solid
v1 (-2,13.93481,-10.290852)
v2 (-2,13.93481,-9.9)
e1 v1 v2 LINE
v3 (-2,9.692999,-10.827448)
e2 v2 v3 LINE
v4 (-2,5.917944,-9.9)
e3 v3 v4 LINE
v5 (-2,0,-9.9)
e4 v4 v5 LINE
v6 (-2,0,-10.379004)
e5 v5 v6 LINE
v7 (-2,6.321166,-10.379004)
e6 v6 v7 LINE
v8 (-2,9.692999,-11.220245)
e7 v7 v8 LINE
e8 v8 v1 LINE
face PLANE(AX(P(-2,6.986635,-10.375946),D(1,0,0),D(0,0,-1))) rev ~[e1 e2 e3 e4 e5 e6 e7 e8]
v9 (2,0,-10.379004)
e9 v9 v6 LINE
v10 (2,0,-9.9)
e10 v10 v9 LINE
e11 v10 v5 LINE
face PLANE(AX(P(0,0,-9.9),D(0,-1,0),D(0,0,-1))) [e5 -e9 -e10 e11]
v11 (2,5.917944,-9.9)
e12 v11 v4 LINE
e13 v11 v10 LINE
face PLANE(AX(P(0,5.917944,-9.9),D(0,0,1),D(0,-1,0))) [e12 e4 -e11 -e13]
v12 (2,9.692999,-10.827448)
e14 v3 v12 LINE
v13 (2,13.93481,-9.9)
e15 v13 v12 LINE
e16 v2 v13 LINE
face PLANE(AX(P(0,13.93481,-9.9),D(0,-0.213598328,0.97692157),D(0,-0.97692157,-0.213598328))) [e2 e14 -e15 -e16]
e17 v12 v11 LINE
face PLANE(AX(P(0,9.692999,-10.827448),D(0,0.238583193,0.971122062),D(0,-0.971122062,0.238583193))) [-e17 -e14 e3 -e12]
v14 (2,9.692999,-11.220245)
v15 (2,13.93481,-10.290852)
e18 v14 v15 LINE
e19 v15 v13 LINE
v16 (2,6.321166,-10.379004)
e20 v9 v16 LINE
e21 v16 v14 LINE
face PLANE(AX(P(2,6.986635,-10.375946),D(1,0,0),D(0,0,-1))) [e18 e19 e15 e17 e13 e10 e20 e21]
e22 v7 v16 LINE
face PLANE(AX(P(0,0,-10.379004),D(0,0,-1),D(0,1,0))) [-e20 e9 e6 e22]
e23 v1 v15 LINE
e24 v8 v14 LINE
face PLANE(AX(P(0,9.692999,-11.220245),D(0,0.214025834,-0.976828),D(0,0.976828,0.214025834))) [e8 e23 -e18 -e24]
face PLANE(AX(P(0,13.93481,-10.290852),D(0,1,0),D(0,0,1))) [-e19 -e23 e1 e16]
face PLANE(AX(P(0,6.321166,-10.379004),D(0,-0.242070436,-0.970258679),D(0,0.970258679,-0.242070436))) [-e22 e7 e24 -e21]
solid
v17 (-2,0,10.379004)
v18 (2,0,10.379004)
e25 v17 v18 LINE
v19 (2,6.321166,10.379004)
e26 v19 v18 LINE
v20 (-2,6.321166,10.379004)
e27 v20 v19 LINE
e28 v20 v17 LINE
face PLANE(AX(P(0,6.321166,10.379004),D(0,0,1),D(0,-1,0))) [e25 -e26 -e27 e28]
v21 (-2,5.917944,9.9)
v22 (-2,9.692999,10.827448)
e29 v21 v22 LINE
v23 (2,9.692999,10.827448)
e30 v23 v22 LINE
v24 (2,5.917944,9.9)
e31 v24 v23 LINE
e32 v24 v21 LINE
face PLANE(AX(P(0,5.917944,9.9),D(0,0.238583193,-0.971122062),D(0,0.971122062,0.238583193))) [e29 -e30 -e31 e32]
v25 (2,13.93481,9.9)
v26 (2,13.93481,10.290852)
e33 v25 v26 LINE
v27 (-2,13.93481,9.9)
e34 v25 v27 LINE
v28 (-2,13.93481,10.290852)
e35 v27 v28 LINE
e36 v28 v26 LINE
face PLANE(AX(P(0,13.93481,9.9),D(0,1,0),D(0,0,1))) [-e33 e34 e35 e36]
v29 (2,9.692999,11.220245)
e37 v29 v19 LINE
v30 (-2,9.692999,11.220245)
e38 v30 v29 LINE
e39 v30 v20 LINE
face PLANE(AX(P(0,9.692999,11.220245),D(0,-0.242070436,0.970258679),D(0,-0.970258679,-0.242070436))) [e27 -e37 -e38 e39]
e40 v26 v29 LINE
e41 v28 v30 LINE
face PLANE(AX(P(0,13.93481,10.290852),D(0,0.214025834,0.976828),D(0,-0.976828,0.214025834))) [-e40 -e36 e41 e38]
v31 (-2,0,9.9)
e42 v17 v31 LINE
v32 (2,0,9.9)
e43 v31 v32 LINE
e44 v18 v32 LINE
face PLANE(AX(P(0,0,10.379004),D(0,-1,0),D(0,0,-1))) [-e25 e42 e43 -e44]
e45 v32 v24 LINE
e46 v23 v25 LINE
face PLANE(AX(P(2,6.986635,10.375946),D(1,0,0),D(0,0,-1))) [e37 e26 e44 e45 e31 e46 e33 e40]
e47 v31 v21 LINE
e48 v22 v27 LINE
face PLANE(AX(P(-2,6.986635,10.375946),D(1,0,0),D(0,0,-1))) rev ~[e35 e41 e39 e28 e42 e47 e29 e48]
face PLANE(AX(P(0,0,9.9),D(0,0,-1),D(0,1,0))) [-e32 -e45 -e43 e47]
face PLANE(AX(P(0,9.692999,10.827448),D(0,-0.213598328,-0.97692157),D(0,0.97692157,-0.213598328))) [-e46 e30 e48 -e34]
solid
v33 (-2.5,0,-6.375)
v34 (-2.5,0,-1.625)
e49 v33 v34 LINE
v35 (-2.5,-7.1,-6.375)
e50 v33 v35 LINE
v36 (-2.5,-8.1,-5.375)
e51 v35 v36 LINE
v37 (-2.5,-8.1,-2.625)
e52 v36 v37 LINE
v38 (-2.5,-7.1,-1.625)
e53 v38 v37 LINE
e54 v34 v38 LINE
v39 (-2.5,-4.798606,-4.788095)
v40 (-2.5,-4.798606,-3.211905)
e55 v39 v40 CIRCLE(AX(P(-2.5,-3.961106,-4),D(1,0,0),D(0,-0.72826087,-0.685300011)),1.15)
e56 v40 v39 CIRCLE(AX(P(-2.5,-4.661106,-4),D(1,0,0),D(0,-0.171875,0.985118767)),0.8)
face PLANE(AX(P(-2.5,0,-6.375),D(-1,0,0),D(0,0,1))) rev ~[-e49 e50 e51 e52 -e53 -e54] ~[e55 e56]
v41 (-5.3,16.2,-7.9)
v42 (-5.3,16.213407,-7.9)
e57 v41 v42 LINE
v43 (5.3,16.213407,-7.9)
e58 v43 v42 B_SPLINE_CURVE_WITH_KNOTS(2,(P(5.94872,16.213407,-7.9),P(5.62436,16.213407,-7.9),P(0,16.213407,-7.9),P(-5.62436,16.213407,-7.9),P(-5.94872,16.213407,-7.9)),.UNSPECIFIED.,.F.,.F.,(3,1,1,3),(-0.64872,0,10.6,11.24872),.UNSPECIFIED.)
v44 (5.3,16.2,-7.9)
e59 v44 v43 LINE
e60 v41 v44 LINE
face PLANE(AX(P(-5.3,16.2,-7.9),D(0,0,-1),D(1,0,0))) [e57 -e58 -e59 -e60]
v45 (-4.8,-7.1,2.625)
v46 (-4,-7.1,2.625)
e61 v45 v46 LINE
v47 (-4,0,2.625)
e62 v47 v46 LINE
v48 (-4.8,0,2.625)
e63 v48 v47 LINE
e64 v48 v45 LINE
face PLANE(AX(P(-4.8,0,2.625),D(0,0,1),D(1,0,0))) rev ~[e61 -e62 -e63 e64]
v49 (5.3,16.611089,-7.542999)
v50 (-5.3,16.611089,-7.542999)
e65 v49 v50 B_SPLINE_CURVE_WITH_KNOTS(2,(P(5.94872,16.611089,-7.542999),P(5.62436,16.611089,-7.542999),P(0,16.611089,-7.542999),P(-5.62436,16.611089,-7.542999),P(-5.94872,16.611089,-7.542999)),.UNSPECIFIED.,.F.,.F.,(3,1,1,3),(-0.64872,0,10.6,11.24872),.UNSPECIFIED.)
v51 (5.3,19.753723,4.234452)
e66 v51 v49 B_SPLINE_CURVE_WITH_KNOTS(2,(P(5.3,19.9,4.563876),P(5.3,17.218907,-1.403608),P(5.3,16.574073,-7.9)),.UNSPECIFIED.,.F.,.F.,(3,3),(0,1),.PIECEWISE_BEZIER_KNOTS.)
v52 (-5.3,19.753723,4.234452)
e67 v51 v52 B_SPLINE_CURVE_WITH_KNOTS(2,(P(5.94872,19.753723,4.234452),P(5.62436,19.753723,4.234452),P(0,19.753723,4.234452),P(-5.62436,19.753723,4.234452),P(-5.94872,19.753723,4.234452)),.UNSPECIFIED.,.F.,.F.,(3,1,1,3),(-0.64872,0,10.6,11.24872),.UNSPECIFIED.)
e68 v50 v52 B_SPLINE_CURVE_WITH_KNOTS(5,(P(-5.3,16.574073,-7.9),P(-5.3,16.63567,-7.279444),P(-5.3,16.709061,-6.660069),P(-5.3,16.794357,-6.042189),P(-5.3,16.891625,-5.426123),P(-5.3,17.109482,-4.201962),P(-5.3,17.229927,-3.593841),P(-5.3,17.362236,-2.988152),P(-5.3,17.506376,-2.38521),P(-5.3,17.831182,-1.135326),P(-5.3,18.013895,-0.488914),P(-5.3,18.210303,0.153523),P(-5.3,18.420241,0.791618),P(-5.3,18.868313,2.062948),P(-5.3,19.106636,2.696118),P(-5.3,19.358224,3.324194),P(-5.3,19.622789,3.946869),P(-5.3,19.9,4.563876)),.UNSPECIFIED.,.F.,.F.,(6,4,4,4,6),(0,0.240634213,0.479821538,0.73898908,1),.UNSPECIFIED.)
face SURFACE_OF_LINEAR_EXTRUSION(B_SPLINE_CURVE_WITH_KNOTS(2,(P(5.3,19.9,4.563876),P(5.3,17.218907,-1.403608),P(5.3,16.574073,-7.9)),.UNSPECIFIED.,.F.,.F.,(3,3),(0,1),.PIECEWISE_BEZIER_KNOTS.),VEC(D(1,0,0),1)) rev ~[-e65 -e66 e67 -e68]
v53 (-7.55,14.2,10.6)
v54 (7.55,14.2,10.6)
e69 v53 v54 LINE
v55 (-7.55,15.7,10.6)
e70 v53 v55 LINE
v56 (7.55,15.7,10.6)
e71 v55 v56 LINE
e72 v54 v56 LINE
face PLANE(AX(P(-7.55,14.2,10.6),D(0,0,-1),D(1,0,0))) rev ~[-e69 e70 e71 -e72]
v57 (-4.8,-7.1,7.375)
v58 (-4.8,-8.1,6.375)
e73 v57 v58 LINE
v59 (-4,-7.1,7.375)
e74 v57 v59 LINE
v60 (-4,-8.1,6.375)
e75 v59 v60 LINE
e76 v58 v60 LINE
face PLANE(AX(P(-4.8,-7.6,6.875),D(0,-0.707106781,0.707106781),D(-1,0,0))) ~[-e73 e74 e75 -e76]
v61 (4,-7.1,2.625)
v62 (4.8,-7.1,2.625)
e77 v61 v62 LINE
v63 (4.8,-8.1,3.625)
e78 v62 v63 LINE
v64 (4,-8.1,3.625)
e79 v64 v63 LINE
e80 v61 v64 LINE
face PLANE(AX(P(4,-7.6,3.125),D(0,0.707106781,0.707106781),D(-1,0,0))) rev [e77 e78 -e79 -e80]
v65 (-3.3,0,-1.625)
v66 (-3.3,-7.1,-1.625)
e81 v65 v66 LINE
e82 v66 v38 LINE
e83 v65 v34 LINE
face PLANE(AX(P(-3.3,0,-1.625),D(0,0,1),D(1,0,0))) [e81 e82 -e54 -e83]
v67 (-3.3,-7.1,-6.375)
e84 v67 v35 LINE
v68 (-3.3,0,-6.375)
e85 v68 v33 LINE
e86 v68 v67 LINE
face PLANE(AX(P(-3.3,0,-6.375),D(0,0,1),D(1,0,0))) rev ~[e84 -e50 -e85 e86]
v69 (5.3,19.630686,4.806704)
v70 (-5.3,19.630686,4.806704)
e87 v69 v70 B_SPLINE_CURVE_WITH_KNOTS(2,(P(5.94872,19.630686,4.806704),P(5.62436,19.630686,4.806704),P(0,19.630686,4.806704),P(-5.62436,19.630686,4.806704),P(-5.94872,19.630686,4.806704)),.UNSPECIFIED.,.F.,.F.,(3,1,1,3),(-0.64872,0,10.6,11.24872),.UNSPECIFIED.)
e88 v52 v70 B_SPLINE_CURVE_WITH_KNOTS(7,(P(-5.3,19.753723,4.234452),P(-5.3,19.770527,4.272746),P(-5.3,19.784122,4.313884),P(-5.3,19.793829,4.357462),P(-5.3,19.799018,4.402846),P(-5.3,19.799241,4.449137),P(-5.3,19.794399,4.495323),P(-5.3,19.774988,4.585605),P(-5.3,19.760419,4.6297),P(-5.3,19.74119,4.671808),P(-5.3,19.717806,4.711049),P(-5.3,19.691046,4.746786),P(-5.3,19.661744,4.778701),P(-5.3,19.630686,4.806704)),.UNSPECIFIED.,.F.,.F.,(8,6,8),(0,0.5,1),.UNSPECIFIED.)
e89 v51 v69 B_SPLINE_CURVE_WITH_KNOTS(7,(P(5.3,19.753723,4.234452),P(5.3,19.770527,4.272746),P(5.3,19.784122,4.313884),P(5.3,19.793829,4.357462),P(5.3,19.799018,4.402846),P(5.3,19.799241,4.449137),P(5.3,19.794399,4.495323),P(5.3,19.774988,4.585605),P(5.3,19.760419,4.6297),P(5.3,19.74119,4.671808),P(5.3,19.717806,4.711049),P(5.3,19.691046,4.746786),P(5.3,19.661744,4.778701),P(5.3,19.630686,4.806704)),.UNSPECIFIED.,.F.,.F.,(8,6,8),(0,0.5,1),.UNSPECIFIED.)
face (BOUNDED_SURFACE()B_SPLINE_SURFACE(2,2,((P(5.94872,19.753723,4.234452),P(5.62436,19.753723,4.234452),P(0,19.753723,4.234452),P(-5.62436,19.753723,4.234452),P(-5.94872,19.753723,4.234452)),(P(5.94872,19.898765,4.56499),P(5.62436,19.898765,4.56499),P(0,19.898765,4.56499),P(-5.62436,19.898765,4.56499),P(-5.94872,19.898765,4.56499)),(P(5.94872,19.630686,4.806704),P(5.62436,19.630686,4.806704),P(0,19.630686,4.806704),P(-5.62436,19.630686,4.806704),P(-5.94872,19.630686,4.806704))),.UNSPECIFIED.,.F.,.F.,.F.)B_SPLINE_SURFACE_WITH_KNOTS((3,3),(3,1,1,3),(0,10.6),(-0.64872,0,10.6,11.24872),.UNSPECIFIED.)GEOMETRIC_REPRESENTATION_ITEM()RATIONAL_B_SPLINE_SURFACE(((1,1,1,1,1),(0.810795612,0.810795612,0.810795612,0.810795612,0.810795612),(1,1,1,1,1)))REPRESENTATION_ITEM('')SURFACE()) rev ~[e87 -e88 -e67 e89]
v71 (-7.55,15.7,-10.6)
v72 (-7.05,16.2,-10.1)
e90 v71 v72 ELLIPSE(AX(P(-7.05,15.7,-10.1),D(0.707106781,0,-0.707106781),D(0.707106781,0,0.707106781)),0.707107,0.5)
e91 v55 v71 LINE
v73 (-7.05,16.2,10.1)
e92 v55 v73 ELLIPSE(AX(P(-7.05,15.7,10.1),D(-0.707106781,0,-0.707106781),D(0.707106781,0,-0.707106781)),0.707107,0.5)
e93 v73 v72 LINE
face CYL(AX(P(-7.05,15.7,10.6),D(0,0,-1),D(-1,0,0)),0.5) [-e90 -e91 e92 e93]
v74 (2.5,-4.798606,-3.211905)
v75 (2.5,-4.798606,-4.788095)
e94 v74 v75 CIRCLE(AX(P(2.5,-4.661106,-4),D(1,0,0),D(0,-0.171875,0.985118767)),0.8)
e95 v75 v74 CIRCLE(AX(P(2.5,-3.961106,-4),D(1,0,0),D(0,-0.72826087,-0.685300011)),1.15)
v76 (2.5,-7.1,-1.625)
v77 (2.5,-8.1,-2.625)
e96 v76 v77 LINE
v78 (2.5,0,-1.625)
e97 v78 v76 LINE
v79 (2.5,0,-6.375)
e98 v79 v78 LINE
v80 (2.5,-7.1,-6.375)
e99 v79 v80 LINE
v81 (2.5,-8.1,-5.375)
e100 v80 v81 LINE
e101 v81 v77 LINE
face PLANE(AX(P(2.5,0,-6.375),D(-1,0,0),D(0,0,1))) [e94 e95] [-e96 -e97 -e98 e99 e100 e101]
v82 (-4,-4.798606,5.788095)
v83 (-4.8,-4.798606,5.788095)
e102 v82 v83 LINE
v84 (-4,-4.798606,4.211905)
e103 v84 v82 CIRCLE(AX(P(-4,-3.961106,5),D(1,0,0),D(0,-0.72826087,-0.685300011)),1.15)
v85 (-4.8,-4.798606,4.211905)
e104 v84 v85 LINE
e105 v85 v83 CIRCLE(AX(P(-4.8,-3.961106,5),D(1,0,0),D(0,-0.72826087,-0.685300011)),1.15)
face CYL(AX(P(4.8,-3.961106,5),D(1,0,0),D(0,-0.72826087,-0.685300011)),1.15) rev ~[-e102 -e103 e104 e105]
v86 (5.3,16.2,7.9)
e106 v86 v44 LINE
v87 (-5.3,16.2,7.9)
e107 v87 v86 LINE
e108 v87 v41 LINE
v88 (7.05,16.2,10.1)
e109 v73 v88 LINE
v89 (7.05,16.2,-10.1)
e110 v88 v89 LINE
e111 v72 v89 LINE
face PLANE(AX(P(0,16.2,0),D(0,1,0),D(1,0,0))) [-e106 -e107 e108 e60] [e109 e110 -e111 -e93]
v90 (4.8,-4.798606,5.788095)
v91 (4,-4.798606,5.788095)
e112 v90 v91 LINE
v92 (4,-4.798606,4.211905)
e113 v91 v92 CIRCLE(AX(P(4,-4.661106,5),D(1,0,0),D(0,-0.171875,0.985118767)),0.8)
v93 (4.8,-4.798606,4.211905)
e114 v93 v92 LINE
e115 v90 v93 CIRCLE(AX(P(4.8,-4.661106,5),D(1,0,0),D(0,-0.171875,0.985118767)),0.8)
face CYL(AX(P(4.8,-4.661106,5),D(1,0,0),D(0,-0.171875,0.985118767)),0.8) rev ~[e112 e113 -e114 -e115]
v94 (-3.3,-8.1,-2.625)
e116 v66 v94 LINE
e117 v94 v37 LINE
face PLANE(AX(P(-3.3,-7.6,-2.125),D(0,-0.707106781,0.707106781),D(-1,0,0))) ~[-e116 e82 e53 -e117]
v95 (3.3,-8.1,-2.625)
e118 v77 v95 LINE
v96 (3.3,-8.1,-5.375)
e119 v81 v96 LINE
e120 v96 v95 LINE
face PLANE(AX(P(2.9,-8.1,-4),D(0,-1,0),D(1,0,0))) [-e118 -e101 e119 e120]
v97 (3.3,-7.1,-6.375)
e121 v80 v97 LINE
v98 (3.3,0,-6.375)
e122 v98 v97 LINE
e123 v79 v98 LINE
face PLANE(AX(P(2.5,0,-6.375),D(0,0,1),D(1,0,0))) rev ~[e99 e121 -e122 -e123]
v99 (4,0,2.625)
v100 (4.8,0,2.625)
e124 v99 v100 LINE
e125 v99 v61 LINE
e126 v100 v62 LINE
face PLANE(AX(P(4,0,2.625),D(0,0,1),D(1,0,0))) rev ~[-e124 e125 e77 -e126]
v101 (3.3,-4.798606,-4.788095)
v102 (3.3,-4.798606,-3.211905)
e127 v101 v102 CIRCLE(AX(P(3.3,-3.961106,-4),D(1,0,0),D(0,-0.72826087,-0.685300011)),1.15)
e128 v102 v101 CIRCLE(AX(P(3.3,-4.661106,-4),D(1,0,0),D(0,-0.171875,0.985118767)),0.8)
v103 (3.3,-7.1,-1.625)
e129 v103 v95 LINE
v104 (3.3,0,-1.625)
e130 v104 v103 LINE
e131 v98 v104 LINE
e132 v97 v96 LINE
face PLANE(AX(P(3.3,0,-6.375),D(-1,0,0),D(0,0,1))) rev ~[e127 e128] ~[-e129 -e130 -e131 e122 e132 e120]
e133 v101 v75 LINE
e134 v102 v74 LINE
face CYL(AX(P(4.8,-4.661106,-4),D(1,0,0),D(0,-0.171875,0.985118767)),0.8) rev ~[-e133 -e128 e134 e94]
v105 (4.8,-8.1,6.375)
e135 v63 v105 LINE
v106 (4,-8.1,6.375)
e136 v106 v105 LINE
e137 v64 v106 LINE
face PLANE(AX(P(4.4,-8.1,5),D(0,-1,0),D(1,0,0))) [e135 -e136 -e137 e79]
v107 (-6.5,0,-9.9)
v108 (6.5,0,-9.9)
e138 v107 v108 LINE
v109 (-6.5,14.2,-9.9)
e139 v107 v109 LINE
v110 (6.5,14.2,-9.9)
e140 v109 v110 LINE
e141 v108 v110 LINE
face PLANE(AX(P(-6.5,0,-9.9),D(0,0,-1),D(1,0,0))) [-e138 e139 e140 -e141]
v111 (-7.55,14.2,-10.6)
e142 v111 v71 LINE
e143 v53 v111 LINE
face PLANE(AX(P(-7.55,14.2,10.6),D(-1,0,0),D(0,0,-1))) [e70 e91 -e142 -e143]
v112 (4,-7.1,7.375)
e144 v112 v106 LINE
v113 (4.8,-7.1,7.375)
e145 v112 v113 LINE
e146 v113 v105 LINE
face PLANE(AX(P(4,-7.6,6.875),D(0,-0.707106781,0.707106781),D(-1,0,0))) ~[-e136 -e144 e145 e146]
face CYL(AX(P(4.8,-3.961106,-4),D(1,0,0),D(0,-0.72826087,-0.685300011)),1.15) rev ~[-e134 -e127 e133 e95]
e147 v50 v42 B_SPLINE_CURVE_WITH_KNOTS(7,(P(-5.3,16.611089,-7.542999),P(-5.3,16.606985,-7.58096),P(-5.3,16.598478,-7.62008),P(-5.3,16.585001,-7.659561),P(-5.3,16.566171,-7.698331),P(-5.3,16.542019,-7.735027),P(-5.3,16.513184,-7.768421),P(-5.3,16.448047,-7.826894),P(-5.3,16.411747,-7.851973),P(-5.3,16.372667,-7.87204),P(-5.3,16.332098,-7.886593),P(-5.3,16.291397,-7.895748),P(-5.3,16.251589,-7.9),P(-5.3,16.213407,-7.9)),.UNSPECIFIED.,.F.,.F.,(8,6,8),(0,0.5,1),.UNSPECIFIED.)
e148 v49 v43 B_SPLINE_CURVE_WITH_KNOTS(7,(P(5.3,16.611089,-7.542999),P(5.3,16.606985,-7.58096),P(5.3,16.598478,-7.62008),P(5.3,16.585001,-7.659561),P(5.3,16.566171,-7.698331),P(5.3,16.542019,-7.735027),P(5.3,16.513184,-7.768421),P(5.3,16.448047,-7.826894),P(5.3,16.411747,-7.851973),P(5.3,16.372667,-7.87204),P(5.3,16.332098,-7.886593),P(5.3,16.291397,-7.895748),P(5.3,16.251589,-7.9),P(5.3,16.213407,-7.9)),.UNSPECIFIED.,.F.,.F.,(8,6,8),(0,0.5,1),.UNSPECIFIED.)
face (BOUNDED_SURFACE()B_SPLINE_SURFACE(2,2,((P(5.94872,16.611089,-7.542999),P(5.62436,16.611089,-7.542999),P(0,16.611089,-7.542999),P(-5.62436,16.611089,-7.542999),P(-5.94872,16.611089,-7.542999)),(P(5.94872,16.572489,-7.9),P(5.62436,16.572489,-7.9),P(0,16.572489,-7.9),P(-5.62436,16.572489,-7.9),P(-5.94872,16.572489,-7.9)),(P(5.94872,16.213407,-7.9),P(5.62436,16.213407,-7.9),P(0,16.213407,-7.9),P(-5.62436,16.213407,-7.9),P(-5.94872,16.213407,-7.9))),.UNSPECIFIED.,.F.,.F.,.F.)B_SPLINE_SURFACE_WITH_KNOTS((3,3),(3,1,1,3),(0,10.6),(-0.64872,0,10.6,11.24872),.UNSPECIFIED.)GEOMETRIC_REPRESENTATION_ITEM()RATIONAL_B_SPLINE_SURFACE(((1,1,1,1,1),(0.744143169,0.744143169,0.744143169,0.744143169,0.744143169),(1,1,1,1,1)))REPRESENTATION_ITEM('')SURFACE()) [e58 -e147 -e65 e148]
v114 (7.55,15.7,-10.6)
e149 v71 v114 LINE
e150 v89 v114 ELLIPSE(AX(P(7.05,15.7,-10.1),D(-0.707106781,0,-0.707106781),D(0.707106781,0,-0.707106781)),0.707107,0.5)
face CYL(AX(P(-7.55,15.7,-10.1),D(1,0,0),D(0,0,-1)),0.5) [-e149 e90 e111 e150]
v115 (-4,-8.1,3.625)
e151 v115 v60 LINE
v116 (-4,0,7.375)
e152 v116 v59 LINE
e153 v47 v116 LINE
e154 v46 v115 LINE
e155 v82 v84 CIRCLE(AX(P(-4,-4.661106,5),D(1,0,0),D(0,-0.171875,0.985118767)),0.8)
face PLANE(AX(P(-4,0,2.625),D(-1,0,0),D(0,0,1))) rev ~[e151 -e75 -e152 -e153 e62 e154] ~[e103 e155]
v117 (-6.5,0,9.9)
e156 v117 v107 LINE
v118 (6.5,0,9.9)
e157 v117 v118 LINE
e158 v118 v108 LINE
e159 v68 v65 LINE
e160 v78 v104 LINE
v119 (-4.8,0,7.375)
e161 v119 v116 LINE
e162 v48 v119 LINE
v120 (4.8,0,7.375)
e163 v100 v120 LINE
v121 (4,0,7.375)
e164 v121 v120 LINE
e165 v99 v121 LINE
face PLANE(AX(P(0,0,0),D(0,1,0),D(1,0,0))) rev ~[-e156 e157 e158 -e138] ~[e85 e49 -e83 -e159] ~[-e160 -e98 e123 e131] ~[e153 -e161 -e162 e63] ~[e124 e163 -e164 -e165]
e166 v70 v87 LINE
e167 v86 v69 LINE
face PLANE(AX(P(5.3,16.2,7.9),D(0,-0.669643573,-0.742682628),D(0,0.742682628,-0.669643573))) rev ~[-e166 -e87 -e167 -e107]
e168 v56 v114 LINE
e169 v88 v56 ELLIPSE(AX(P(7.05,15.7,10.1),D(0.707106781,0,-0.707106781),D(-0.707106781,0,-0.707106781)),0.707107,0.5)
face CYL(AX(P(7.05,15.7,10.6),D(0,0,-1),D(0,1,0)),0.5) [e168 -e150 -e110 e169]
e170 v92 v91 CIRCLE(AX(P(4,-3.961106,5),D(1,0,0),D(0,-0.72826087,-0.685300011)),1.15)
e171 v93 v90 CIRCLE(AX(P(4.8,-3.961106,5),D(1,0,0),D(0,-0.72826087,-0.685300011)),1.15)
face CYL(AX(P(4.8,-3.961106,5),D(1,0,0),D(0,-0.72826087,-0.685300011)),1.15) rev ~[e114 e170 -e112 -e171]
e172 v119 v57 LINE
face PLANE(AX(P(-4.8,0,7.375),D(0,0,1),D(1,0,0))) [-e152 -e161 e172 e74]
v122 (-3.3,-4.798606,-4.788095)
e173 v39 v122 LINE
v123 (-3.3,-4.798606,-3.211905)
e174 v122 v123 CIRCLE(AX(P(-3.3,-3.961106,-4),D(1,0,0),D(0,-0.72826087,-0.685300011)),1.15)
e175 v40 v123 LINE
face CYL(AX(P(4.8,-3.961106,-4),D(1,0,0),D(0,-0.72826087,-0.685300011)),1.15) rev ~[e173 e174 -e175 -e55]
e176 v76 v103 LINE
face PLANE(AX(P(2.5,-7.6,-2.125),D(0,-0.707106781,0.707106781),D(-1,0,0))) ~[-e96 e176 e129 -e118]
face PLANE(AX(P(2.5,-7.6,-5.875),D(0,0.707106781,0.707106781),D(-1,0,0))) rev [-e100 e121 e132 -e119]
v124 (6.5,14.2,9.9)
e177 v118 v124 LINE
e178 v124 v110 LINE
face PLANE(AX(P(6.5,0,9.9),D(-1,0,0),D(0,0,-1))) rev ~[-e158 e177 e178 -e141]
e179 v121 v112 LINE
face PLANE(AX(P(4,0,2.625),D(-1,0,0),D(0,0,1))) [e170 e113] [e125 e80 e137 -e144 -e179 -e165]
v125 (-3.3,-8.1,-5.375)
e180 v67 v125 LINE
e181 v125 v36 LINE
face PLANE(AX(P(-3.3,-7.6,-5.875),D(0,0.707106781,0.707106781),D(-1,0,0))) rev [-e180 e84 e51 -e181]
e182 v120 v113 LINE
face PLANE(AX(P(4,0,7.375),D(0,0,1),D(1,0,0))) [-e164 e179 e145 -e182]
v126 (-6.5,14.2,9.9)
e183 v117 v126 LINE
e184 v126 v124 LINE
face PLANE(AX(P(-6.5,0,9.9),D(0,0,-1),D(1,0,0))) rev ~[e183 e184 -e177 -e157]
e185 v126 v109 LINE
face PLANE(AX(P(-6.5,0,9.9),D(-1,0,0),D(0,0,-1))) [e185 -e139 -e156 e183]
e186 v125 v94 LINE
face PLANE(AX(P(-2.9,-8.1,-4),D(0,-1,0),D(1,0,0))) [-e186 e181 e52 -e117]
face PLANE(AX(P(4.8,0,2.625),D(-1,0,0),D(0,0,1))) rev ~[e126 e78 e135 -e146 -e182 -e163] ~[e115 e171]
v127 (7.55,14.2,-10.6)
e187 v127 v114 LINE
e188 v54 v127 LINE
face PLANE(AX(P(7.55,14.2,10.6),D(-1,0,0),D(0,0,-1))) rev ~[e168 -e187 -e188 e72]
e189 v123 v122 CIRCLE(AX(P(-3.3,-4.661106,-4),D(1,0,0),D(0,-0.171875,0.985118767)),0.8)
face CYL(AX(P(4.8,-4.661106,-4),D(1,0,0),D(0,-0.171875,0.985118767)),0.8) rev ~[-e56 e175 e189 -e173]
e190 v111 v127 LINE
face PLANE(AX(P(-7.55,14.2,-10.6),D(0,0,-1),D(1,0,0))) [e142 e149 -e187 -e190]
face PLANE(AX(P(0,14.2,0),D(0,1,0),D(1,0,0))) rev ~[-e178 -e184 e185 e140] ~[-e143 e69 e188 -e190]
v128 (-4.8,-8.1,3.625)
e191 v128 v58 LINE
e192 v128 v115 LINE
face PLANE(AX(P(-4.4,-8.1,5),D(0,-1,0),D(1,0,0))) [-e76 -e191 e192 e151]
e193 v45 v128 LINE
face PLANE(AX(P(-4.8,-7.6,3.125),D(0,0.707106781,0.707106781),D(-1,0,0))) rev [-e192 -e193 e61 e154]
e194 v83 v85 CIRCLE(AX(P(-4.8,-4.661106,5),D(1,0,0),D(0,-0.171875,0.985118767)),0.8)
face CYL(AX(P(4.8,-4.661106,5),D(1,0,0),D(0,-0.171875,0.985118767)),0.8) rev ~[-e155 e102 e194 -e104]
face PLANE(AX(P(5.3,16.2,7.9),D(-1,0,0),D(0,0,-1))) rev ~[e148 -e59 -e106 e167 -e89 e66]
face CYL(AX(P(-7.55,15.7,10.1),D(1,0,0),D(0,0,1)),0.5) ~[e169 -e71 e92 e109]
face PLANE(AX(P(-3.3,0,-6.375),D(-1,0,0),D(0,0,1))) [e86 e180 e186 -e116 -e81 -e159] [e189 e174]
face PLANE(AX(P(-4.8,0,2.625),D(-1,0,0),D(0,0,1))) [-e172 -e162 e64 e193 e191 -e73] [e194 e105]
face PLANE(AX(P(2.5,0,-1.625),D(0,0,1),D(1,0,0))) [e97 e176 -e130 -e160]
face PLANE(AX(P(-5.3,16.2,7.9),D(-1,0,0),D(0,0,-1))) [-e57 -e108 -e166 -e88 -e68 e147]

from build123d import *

# Parameters (mm, degrees)
SKETCH1_W                  = 13
SKETCH1_H                  = 19.8
BOSS_EXTRUDE1_DEPTH        = 14.2
SKETCH2_W                  = 15.1
SKETCH2_H                  = 21.2
BOSS_EXTRUDE2_DEPTH        = 2
FILLET1_R                  = 0.5
SKETCH3_W                  = 10.6
SKETCH3_H                  = 15.8
BOSS_EXTRUDE3_DEPTH        = 3.7
CUT_EXTRUDE1_DEPTH         = 3.25
CUT_EXTRUDE1_DEPTH_BACK    = 13.85
FILLET2_R                  = 0.5
FILLET3_R                  = 0.4
BOSS_EXTRUDE4_DEPTH        = 2
BOSS_EXTRUDE4_DEPTH_BACK   = 2
BOSS_EXTRUDE4_2_DEPTH      = 2
BOSS_EXTRUDE4_2_DEPTH_BACK = 2
SKETCH9_W                  = 0.8
SKETCH9_H                  = 4.75
BOSS_EXTRUDE5_DEPTH        = 8.1
CHAMFER1_SIZE              = 1
CUT_EXTRUDE2_DEPTH         = 13.35


with BuildPart() as part:
    # Sketch1 → Boss-Extrude1 (new body)
    with BuildSketch(Plane(origin=(0, 0, 0), x_dir=(1, 0, 0), z_dir=(0, 1, 0))):
        Rectangle(SKETCH1_W, SKETCH1_H)
    extrude(amount=BOSS_EXTRUDE1_DEPTH)

    # Sketch2 → Boss-Extrude2 (add)
    with BuildSketch(Plane(origin=(0, 14.2, 0), x_dir=(1, 0, 0), z_dir=(0, 1, 0))):
        Rectangle(SKETCH2_W, SKETCH2_H)
    extrude(amount=BOSS_EXTRUDE2_DEPTH)

    # Fillet1
    fillet1_edges = [part.edges().sort_by_distance(p)[0] for p in [
        (7.55, 16.2, 0),
        (0, 16.2, -10.6),
        (-7.55, 16.2, 0),
        (0, 16.2, 10.6),
    ]]
    fillet(fillet1_edges, radius=FILLET1_R)

    # Sketch3 → Boss-Extrude3 (add)
    with BuildSketch(Plane(origin=(0, 16.2, 0), x_dir=(1, 0, 0), z_dir=(0, 1, 0))):
        Rectangle(SKETCH3_W, SKETCH3_H)
    extrude(amount=BOSS_EXTRUDE3_DEPTH)

    # Sketch4 → Cut-Extrude1 (cut, two sides)
    with BuildSketch(Plane(origin=(5.3, 0, 0), x_dir=(0, 0, -1), z_dir=(1, 0, 0))) as cut_extrude1_sk:
        Polygon((-7.9, 19.9), (-7.9, 16.2), (-4.563876161, 19.9), align=None)
        with BuildLine():
            Line((7.9, 19.9), (-4.563876161, 19.9))
            add(Edge.make_bspline(
                [(-4.563876161, 19.9), (1.403607579, 17.21890735), (7.9, 16.574072903)],
                knots=[0, 0, 0, 1, 1, 1], degree=2))
            Line((7.9, 16.574072903), (7.9, 19.9))
        make_face()
    extrude(amount=CUT_EXTRUDE1_DEPTH, mode=Mode.SUBTRACT)
    extrude(cut_extrude1_sk.sketch, amount=-CUT_EXTRUDE1_DEPTH_BACK, mode=Mode.SUBTRACT)

    # Fillet2
    fillet2_edges = [part.edges().sort_by_distance(p)[0] for p in [
        (0, 19.9, 4.563876161),
    ]]
    fillet(fillet2_edges, radius=FILLET2_R)

    # Fillet3
    fillet3_edges = [part.edges().sort_by_distance(p)[0] for p in [
        (0, 16.574072903, -7.9),
    ]]
    fillet(fillet3_edges, radius=FILLET3_R)

    # Sketch9 → Boss-Extrude5 (add)
    with BuildSketch(Plane.XZ):
        with Locations((-4.4, 5)):
            Rectangle(SKETCH9_W, SKETCH9_H)
        with Locations((-2.9, -4)):
            Rectangle(SKETCH9_W, SKETCH9_H)
        with Locations((2.9, -4)):
            Rectangle(SKETCH9_W, SKETCH9_H)
        with Locations((4.4, 5)):
            Rectangle(SKETCH9_W, SKETCH9_H)
    extrude(amount=BOSS_EXTRUDE5_DEPTH)

    # Chamfer1
    chamfer1_edges = [part.edges().sort_by_distance(p)[0] for p in [
        (-4.4, -8.1, 2.625),
        (-4.4, -8.1, 7.375),
        (-2.9, -8.1, -6.375),
        (-2.9, -8.1, -1.625),
        (2.9, -8.1, -1.625),
        (2.9, -8.1, -6.375),
        (4.4, -8.1, 7.375),
        (4.4, -8.1, 2.625),
    ]]
    chamfer(chamfer1_edges, length=CHAMFER1_SIZE)

    # Sketch10 → Cut-Extrude2 (cut, through all)
    with BuildSketch(Plane(origin=(4.8, 0, 0), x_dir=(0, 0, -1), z_dir=(1, 0, 0))):
        with BuildLine():
            ThreePointArc((-4.211904987, -4.798606273), (-5, -2.811106273), (-5.788095013, -4.798606273))
            ThreePointArc((-5.788095013, -4.798606273), (-5, -5.461106273), (-4.211904987, -4.798606273))
        make_face()
        with BuildLine():
            ThreePointArc((4.788095013, -4.798606273), (4, -2.811106273), (3.211904987, -4.798606273))
            ThreePointArc((3.211904987, -4.798606273), (4, -5.461106273), (4.788095013, -4.798606273))
        make_face()
    extrude(amount=-CUT_EXTRUDE2_DEPTH, mode=Mode.SUBTRACT)


with BuildPart() as body_2:
    # Sketch8 → Boss-Extrude4 (new body, two sides)
    with BuildSketch(Plane(origin=(0, 0, 0), x_dir=(0, 0, -1), z_dir=(1, 0, 0))) as boss_extrude4_sk:
        Polygon((-9.9, 13.934809719), (-10.290851987, 13.934809719), (-11.220244873, 9.692999395), (-10.379004118, 6.321166149), (-10.379004118, 0), (-9.9, 0), (-9.9, 5.917943641), (-10.827447629, 9.692999395), align=None)
    extrude(amount=BOSS_EXTRUDE4_DEPTH)
    extrude(boss_extrude4_sk.sketch, amount=-BOSS_EXTRUDE4_DEPTH_BACK)


with BuildPart() as body_3:
    # Sketch8 → Boss-Extrude4 2 (new body, two sides)
    with BuildSketch(Plane(origin=(0, 0, 0), x_dir=(0, 0, -1), z_dir=(1, 0, 0))) as boss_extrude4_2_sk:
        Polygon((10.379004118, 0), (10.379004118, 6.321166149), (11.220244873, 9.692999395), (10.290851987, 13.934809719), (9.9, 13.934809719), (10.827447629, 9.692999395), (9.9, 5.917943641), (9.9, 0), align=None)
    extrude(amount=BOSS_EXTRUDE4_2_DEPTH)
    extrude(boss_extrude4_2_sk.sketch, amount=-BOSS_EXTRUDE4_2_DEPTH_BACK)


solid = Compound([part.part, body_2.part, body_3.part])
